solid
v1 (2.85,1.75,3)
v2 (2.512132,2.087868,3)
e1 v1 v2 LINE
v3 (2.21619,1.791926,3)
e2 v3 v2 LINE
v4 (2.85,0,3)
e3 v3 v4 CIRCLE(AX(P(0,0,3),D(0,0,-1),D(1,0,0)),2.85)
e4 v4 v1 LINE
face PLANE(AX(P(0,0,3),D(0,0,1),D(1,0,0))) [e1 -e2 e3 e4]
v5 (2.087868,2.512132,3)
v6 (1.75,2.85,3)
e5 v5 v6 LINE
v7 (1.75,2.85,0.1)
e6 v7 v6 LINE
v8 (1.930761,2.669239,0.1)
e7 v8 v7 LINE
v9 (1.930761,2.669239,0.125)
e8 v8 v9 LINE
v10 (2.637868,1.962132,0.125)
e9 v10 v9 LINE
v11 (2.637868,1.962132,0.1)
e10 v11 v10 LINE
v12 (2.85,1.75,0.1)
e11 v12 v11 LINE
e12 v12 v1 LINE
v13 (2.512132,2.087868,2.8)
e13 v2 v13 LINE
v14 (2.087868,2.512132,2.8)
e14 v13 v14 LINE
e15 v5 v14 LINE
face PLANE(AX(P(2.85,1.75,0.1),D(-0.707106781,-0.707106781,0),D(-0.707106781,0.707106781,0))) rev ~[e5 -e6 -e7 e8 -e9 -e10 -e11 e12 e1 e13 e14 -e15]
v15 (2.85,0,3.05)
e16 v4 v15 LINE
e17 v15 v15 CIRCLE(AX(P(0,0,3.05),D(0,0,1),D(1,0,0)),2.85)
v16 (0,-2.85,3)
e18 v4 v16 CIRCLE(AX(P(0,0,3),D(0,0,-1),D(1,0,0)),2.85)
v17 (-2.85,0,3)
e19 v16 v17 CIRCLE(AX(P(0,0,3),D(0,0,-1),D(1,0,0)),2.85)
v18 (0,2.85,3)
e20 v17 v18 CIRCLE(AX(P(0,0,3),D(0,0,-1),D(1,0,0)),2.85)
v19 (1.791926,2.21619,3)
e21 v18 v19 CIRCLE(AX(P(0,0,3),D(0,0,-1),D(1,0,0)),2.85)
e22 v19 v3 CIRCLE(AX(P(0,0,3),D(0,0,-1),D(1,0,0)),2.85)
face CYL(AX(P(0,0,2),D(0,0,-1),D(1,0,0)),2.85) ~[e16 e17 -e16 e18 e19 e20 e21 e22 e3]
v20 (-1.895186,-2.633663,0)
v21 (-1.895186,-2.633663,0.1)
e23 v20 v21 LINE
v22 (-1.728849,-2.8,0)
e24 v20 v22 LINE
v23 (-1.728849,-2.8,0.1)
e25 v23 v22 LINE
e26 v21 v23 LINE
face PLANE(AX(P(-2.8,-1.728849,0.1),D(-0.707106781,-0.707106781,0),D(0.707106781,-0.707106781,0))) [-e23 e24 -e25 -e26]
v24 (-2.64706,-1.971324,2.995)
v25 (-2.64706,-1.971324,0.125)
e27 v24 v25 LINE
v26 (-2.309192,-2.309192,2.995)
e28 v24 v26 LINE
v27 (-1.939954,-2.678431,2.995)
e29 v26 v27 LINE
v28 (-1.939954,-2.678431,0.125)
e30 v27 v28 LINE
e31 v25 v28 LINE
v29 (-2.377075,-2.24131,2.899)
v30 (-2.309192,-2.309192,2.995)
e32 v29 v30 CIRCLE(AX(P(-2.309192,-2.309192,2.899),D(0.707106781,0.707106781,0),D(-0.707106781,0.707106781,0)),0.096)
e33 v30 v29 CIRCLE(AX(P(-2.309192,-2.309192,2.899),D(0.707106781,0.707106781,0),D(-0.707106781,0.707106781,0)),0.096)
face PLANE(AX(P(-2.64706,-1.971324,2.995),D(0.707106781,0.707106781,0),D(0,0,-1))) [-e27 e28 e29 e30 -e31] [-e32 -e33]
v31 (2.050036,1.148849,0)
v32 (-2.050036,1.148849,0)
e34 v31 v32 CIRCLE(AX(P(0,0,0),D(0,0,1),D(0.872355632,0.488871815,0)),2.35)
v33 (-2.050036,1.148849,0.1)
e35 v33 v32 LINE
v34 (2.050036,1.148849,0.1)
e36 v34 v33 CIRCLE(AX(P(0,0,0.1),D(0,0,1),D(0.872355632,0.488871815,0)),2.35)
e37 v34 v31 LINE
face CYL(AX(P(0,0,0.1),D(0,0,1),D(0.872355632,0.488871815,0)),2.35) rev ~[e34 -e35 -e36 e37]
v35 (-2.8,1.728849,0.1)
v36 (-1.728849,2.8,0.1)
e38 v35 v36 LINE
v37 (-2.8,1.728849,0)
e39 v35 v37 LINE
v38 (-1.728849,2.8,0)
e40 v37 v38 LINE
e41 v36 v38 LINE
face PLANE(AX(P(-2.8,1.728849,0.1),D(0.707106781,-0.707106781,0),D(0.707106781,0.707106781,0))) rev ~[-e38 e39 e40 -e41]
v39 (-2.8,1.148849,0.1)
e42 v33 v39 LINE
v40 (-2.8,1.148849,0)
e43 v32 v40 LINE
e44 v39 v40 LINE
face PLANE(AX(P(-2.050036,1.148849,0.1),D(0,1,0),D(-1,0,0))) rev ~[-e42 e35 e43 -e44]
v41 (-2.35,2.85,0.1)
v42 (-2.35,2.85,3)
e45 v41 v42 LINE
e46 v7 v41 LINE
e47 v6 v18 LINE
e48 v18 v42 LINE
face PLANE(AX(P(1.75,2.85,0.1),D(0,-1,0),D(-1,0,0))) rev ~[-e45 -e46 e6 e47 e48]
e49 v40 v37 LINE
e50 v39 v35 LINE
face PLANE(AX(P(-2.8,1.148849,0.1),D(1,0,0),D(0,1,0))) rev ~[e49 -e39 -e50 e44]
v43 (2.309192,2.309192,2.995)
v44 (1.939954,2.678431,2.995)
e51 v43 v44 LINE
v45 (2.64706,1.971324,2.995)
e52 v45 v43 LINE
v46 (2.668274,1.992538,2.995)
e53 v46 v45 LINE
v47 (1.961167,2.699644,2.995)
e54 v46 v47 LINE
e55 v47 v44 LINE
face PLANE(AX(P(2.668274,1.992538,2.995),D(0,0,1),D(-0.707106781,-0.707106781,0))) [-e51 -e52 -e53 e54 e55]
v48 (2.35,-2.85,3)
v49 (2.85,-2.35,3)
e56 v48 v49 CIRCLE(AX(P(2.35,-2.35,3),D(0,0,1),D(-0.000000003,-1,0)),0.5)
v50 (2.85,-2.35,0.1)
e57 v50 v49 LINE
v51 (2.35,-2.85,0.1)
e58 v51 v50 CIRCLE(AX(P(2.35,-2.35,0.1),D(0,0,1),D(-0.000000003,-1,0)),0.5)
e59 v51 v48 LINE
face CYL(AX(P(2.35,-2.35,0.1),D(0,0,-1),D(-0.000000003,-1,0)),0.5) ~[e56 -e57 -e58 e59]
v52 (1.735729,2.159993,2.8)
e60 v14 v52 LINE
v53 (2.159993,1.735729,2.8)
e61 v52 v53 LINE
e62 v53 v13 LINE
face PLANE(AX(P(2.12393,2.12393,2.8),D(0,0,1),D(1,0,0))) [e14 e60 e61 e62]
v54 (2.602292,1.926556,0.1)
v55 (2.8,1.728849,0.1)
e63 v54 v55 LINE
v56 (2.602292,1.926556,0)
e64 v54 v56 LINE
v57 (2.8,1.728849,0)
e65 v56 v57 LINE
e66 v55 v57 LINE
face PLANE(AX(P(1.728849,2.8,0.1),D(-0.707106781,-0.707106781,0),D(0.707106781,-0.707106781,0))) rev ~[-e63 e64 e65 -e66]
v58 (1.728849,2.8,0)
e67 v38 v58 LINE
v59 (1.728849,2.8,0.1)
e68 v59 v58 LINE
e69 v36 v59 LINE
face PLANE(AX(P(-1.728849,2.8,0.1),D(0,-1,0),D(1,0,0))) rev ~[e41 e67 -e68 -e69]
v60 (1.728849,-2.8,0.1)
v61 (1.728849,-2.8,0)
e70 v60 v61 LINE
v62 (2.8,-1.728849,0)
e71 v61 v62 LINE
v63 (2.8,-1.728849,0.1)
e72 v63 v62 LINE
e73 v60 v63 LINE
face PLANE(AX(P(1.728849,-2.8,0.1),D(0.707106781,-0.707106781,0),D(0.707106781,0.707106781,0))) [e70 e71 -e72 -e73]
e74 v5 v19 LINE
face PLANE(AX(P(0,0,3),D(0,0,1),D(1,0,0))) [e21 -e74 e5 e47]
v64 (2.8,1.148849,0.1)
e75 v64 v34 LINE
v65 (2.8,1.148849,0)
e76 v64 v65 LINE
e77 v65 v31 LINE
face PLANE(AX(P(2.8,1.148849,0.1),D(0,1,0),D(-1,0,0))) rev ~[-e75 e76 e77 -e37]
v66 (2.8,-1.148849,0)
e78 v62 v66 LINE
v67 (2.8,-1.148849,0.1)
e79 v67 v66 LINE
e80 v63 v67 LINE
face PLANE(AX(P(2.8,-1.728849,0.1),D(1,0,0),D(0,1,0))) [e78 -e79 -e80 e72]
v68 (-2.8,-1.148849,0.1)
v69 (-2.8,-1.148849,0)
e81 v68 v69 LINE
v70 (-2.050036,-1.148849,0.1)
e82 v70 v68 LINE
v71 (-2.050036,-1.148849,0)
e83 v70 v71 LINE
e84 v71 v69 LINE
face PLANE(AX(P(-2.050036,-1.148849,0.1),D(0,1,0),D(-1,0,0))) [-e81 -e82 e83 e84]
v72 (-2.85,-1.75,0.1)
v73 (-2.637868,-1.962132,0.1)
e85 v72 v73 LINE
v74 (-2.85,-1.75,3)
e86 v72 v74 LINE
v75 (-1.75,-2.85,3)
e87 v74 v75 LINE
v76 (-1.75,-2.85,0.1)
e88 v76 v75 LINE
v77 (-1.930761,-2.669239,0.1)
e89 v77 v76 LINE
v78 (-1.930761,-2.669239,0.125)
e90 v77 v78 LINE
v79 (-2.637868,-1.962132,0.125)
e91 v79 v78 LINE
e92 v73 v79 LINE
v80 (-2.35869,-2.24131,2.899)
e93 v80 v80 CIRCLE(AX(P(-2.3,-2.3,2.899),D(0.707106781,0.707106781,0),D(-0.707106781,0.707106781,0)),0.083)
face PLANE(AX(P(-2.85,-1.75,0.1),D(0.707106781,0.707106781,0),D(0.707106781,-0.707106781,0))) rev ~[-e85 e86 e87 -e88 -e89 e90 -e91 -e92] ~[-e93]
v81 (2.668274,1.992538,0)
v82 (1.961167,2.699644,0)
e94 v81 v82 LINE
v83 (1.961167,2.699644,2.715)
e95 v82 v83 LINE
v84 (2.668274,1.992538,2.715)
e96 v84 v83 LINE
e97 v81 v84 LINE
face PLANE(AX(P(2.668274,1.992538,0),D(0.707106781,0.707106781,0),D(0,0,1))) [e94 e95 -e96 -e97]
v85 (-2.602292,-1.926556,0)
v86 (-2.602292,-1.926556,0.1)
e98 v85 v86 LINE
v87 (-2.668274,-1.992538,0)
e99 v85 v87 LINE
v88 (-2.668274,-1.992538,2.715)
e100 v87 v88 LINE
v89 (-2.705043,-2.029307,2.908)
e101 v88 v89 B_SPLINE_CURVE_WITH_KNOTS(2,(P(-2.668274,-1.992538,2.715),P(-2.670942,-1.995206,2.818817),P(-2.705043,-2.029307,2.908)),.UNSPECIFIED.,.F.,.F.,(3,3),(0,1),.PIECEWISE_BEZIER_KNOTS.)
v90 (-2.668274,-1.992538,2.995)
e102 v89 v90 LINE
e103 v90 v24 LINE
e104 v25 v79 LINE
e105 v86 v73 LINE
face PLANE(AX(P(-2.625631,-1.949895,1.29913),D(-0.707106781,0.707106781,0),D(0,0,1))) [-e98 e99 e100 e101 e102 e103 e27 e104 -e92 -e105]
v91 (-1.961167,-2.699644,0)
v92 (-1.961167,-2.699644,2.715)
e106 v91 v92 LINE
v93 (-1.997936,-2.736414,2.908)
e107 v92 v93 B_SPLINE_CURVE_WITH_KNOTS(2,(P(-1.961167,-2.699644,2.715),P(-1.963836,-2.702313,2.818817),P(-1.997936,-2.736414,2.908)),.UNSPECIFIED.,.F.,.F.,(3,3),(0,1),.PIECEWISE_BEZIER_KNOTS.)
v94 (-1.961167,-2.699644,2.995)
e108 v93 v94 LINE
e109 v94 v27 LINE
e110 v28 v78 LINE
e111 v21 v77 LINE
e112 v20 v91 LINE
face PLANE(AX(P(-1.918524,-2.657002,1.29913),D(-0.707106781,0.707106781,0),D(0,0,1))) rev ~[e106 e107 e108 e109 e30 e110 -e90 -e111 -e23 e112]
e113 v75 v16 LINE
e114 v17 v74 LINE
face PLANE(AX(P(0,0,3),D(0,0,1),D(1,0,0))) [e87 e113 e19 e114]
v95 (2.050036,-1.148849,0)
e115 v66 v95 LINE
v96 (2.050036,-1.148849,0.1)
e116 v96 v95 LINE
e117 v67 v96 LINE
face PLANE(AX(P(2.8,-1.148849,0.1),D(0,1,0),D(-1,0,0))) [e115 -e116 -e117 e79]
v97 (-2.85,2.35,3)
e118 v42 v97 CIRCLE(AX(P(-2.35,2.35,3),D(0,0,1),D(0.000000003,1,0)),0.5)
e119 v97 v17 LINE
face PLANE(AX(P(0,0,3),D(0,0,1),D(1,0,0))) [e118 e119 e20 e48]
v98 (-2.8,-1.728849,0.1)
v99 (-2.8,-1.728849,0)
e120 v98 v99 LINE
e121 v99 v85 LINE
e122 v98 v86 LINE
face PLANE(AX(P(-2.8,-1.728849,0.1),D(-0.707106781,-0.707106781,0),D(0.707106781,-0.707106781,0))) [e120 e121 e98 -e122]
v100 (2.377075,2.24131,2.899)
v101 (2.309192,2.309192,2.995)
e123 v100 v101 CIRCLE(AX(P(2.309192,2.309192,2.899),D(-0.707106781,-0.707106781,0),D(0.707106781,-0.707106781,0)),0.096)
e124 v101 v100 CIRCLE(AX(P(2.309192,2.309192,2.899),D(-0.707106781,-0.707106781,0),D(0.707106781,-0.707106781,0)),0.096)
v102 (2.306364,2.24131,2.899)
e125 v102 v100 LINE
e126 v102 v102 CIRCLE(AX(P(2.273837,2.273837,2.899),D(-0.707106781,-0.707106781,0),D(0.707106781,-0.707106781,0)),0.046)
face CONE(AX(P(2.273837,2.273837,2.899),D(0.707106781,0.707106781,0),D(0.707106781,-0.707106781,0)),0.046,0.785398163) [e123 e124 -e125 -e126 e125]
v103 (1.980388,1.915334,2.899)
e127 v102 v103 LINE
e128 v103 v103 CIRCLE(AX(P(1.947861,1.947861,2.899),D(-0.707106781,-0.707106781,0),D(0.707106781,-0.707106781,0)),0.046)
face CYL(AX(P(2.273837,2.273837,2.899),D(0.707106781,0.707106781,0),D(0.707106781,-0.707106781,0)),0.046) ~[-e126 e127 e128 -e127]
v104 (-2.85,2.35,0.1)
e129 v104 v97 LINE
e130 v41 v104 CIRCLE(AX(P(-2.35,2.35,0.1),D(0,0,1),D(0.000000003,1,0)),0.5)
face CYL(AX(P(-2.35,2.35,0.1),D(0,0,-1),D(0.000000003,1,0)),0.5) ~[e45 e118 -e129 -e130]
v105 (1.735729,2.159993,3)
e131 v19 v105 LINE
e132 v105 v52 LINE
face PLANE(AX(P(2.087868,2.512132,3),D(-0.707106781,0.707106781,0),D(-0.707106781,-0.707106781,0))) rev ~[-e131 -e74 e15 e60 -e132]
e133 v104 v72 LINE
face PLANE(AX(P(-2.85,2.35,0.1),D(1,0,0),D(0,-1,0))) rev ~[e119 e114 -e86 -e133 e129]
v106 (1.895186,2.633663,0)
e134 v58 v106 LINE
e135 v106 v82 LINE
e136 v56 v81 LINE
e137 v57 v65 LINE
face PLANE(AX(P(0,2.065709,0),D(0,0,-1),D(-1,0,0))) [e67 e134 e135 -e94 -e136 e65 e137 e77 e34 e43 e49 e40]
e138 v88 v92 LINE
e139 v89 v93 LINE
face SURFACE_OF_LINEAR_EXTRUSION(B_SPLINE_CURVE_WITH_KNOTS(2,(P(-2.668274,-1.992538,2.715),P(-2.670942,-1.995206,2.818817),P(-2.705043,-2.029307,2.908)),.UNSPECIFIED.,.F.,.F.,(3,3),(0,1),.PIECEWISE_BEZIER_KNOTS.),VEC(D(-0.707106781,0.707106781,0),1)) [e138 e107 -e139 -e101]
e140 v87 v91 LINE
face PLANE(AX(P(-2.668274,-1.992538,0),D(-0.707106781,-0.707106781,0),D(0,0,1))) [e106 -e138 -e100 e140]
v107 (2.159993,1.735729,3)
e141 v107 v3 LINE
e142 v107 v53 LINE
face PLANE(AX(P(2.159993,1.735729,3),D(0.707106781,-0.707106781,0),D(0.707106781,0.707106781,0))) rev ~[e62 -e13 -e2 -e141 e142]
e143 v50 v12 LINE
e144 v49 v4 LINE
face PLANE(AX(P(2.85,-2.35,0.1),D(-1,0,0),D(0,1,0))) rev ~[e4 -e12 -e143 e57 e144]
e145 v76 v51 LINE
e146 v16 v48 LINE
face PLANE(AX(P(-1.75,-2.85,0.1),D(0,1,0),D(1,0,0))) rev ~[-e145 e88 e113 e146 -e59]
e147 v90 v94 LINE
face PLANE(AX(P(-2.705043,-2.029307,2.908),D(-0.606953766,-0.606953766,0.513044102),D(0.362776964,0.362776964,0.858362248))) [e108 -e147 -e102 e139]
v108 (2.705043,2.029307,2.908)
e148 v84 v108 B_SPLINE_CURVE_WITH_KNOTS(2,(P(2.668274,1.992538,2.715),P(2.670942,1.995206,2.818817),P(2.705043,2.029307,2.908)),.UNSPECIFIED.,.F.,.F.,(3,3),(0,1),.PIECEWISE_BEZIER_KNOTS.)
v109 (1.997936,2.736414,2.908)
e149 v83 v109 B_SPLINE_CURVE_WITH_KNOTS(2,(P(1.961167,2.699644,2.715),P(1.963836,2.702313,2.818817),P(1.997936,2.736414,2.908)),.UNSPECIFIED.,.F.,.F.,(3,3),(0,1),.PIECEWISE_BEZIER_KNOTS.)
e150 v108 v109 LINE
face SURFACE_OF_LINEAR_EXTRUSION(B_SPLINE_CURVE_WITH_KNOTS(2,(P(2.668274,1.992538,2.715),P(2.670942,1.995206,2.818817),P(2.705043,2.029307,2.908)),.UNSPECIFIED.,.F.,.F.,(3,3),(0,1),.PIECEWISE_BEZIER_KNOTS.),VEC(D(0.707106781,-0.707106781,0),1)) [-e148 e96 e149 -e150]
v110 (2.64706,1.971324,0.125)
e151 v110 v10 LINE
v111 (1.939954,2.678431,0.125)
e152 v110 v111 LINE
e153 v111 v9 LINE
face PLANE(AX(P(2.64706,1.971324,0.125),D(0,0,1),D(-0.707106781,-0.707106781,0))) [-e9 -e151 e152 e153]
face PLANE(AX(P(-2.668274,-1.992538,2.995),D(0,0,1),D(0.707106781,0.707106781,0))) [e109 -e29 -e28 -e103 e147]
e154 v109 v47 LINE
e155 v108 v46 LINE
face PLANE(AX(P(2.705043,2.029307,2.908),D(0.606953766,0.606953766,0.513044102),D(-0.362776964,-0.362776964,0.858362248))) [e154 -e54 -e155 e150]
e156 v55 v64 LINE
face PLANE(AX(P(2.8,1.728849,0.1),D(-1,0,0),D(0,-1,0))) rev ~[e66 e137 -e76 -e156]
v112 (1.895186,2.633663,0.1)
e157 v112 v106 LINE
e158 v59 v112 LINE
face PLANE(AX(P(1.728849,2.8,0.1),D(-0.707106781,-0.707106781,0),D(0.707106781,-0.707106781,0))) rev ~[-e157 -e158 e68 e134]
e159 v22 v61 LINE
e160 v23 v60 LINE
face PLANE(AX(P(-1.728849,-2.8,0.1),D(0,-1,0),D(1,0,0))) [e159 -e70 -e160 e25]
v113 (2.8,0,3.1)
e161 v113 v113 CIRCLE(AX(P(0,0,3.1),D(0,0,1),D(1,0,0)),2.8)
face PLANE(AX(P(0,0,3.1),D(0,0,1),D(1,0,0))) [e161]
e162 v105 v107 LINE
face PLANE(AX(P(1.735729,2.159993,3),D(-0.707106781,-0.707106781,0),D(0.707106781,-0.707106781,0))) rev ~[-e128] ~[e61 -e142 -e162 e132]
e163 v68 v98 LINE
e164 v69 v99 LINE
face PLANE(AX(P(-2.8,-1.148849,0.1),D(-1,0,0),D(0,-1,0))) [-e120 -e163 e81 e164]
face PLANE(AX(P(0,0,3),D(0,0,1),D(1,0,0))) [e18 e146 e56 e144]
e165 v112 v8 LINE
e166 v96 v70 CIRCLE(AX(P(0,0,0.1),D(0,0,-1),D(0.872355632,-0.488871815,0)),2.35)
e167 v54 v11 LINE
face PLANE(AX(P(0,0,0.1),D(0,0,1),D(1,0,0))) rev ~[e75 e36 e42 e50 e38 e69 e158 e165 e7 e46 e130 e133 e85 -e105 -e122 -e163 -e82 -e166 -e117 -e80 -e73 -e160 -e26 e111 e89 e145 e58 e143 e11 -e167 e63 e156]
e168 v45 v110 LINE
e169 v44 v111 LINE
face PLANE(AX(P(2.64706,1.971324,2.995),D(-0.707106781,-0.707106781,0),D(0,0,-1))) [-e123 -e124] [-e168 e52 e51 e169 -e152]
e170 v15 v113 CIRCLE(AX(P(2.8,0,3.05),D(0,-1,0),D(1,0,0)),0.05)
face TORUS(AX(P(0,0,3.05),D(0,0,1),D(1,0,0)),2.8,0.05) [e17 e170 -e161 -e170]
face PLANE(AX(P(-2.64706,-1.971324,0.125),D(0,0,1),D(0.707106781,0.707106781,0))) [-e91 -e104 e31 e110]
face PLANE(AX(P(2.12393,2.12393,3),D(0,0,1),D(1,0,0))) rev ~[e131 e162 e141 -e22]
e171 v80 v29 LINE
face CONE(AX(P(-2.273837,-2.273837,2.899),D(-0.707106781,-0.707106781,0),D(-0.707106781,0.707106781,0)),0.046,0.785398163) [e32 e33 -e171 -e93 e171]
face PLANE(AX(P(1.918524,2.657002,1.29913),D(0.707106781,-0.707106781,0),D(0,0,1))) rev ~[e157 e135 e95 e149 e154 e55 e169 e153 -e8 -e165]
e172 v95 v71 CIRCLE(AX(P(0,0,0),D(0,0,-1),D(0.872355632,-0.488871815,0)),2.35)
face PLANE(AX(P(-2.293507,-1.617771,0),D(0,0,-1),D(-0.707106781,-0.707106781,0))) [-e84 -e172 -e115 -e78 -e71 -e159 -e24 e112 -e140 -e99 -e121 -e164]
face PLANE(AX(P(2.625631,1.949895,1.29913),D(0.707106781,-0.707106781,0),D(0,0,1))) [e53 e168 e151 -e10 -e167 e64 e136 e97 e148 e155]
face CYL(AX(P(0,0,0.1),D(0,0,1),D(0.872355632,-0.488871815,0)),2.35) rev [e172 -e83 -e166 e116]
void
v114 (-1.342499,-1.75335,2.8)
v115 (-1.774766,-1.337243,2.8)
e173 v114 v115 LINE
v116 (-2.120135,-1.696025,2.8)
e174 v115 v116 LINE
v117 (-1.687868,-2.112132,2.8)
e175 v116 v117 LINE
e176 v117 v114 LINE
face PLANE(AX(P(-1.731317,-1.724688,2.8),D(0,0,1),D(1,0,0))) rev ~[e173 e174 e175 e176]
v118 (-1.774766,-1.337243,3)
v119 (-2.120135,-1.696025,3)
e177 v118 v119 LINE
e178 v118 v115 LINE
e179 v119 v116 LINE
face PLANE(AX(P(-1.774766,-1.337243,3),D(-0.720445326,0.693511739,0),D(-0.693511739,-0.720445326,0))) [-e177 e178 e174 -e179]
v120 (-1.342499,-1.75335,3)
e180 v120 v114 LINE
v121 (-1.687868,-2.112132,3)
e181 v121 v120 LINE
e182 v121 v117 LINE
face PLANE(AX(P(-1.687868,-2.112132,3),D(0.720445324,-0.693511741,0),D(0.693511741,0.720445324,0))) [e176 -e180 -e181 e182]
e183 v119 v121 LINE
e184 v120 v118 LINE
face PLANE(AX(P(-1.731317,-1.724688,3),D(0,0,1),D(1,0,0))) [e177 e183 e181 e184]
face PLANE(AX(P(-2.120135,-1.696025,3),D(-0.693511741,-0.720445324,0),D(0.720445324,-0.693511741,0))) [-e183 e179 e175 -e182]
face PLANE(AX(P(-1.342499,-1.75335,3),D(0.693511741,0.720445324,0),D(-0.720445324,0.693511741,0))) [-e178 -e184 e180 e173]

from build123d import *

# Parameters (mm, degrees)
EXTRUDE_START                      = 0.1
EXTRUDE_726_DEPTH                  = 2.9
EXTRUDE_1021_DEPTH                 = 0.1
EXTRUDE_1021_DEPTH_BACK            = 1
SKETCH_2_R                         = 2.85
FILLET_1_R                         = 0.05
EXTRUDE_START_2                    = -0.3
EXTRUDE_1608_DEPTH                 = 1
CUT_EXTRUDE_8_DEPTH                = 0.2
EXTRUDE_START_3                    = 0.05
SKETCH_9_R                         = 0.046
EXTRUDE_1_DEPTH                    = 0.461
EXTRUDE_1_OTHER_WAY_DEPTH          = 0.05
EXTRUDE_1_OTHER_WAY_DRAFT          = 45
PATTERN_CIRCULAR_3_COUNT           = 2
PATTERN_START                      = 0.05
PATTERN_CIRCULAR_3_COPY_1_SKETCH_R = 0.046
PATTERN_CIRCULAR_3_COPY_1_DEPTH    = 0.05
PATTERN_CIRCULAR_3_COPY_1_DRAFT    = 45
PATTERN_CIRCULAR_3_COPY_2_SKETCH_R = 0.046
PATTERN_CIRCULAR_3_COPY_2_DEPTH    = 0.05
PATTERN_CIRCULAR_3_COPY_2_DRAFT    = 45
EXTRUDE_4261_DEPTH                 = 0.1


with BuildPart() as part:
    # Эскиз1 → Extrude 726 (new body)
    with BuildSketch(Plane.XY.offset(EXTRUDE_START)):
        with BuildLine():
            Line((-2.85, -1.75), (-1.75, -2.85))
            Line((-1.75, -2.85), (2.35, -2.85))
            ThreePointArc((2.35, -2.85), (2.703553391, -2.703553391), (2.85, -2.35))
            Line((2.85, -2.35), (2.85, 1.75))
            Line((2.85, 1.75), (1.75, 2.85))
            Line((1.75, 2.85), (-2.35, 2.85))
            ThreePointArc((-2.35, 2.85), (-2.703553391, 2.703553391), (-2.85, 2.35))
            Line((-2.85, 2.35), (-2.85, -1.75))
        make_face()
    extrude(amount=EXTRUDE_726_DEPTH)

    # Эскиз2 → Extrude 1021 (add, two sides: drawn at the far end of the back side and taken through both)
    with BuildSketch(Plane.XY.offset(3).offset(-EXTRUDE_1021_DEPTH_BACK)):
        Circle(SKETCH_2_R)
    extrude(amount=EXTRUDE_1021_DEPTH + EXTRUDE_1021_DEPTH_BACK)

    # Скругление1
    fillet_1_edges = [part.edges().sort_by_distance(p)[0] for p in [
        (-2.85, 0, 3.1),
    ]]
    fillet(fillet_1_edges, radius=FILLET_1_R)

    # Эскиз6 → Extrude 1608 (add)
    with BuildSketch(Plane(origin=(0.55, -0.55, 0), x_dir=(0, 0, 1), z_dir=(0.7071067811865498, -0.7071067811865452, 0)).offset(EXTRUDE_START_2)):
        with BuildLine():
            Line((2.908, -3.347691193), (2.995, -3.295691193))
            Line((2.995, -3.295691193), (2.995, -3.265691193))
            Line((2.995, -3.265691193), (0.125, -3.265691193))
            Line((0.125, -3.265691193), (0.125, -2.765691193))
            Line((0.125, -2.765691193), (0, -2.765691193))
            Line((0, -2.765691193), (0, -3.295691193))
            Line((0, -3.295691193), (2.715, -3.295691193))
            add(Edge.make_bspline(
                [(2.715, -3.295691193), (2.818817166, -3.299465526), (2.908, -3.347691193)],
                knots=[0, 0, 0, 1, 1, 1], degree=2))
        make_face()
    extrude_1608 = extrude(amount=-EXTRUDE_1608_DEPTH)

    # Эскиз8 → Вытянуть8 (cut)
    with BuildSketch(Plane.XY.offset(3)):
        Polygon((2.512132034, 2.087867966), (2.087867966, 2.512132034), (1.735728789, 2.159992857), (2.159992857, 1.735728789), align=None)
        Polygon((-1.687867966, -2.112132034), (-1.342499119, -1.753350263), (-1.774766314, -1.337243218), (-2.12013516, -1.69602499), align=None)
    extrude(amount=-CUT_EXTRUDE_8_DEPTH, mode=Mode.SUBTRACT)

    # Эскиз9 → Бобышка-Вытянуть1 (add)
    with BuildSketch(Plane(origin=(2.309192388, 2.309192388, 0), x_dir=(0, 0, 1), z_dir=(-0.7071067811865452, -0.7071067811865498, 0)).offset(EXTRUDE_START_3)):
        with Locations(Location((2.899, 0, 0), (0, 0, 270))):
            Circle(SKETCH_9_R)
    extrude_1 = extrude(amount=EXTRUDE_1_DEPTH)


with BuildPart() as extrude_1_other_way_tool:
    # Эскиз9 → Бобышка-Вытянуть1 other way (with draft: the straight prism first)
    with BuildSketch(Plane(origin=(2.309192388, 2.309192388, 0), x_dir=(0, 0, 1), z_dir=(-0.7071067811865452, -0.7071067811865498, 0)).offset(EXTRUDE_START_3)):
        with Locations(Location((2.899, 0, 0), (0, 0, 270))):
            Circle(SKETCH_9_R)
    extrude(amount=-EXTRUDE_1_OTHER_WAY_DEPTH)
    # Бобышка-Вытянуть1 other way: the draft: its side faces are tilted about the plane it starts from
    extrude_1_other_way_sides = [extrude_1_other_way_tool.faces().sort_by_distance(p)[0] for p in [
        (2.258987807, 2.324041631, 2.899),
    ]]
    draft(extrude_1_other_way_sides, Plane(origin=(2.309192388, 2.309192388, 0), x_dir=(0, 0, 1), z_dir=(-0.7071067811865452, -0.7071067811865498, 0)).offset(EXTRUDE_START_3), EXTRUDE_1_OTHER_WAY_DRAFT)


with BuildPart() as part_1:
    add(part.part)

    # Бобышка-Вытянуть1 other way: add extrude_1_other_way_tool
    add(extrude_1_other_way_tool.part)

    # Круговой массив3: Extrude 1608, Бобышка-Вытянуть1 ×2 about axis
    pattern_circular_3_axis = Axis((0, 0, 3.1), (0, 0, -1))
    add([extrude_1608.rotate(pattern_circular_3_axis, i * 360 / PATTERN_CIRCULAR_3_COUNT) for i in range(1, PATTERN_CIRCULAR_3_COUNT)])
    add([extrude_1.rotate(pattern_circular_3_axis, i * 360 / PATTERN_CIRCULAR_3_COUNT) for i in range(1, PATTERN_CIRCULAR_3_COUNT)])


with BuildPart() as pattern_circular_3_copy_1_tool:
    # Круговой массив3 copy 1 sketch → Круговой массив3 copy 1 (with draft: the straight prism first)
    with BuildSketch(Plane(origin=(-2.309192388, -2.309192388, 0), x_dir=(0, 0, 1), z_dir=(0.7071067811865451, 0.7071067811865499, 0)).offset(PATTERN_START)):
        with Locations(Location((2.899, 0, 0), (0, 0, 270))):
            Circle(PATTERN_CIRCULAR_3_COPY_1_SKETCH_R)
    extrude(amount=-PATTERN_CIRCULAR_3_COPY_1_DEPTH)
    # Круговой массив3 copy 1: the draft: its side faces are tilted about the plane it starts from
    pattern_circular_3_copy_1_sides = [pattern_circular_3_copy_1_tool.faces().sort_by_distance(p)[0] for p in [
        (-2.258987807, -2.324041631, 2.899),
    ]]
    draft(pattern_circular_3_copy_1_sides, Plane(origin=(-2.309192388, -2.309192388, 0), x_dir=(0, 0, 1), z_dir=(0.7071067811865451, 0.7071067811865499, 0)).offset(PATTERN_START), PATTERN_CIRCULAR_3_COPY_1_DRAFT)


with BuildPart() as part_2:
    add(part_1.part)

    # Круговой массив3 copy 1: add pattern_circular_3_copy_1_tool
    add(pattern_circular_3_copy_1_tool.part)


with BuildPart() as pattern_circular_3_copy_2_tool:
    # Круговой массив3 copy 2 sketch → Круговой массив3 copy 2 (with draft: the straight prism first)
    with BuildSketch(Plane(origin=(-2.309192388, -2.309192388, 0), x_dir=(0, 0, 1), z_dir=(0.7071067811865451, 0.7071067811865499, 0)).offset(PATTERN_START)):
        with Locations(Location((2.899, 0, 0), (0, 0, 270))):
            Circle(PATTERN_CIRCULAR_3_COPY_2_SKETCH_R)
    extrude(amount=-PATTERN_CIRCULAR_3_COPY_2_DEPTH)
    # Круговой массив3 copy 2: the draft: its side faces are tilted about the plane it starts from
    pattern_circular_3_copy_2_sides = [pattern_circular_3_copy_2_tool.faces().sort_by_distance(p)[0] for p in [
        (-2.258987807, -2.324041631, 2.899),
    ]]
    draft(pattern_circular_3_copy_2_sides, Plane(origin=(-2.309192388, -2.309192388, 0), x_dir=(0, 0, 1), z_dir=(0.7071067811865451, 0.7071067811865499, 0)).offset(PATTERN_START), PATTERN_CIRCULAR_3_COPY_2_DRAFT)


with BuildPart() as part_3:
    add(part_2.part)

    # Круговой массив3 copy 2: add pattern_circular_3_copy_2_tool
    add(pattern_circular_3_copy_2_tool.part)

    # Эскиз13 → Extrude 4261 (add)
    with BuildSketch(Plane(origin=(0, 0, 0.1), x_dir=(-1, 0, 0), z_dir=(0, 0, -1))):
        with BuildLine():
            Line((2.050035735, 1.148848765), (2.8, 1.148848765))
            Line((2.8, 1.148848765), (2.8, 1.728848765))
            Line((2.8, 1.728848765), (1.728848765, 2.8))
            Line((1.728848765, 2.8), (-1.728848765, 2.8))
            Line((-1.728848765, 2.8), (-2.8, 1.728848765))
            Line((-2.8, 1.728848765), (-2.8, 1.148848765))
            Line((-2.8, 1.148848765), (-2.050035735, 1.148848765))
            ThreePointArc((-2.050035735, 1.148848765), (0, 2.35), (2.050035735, 1.148848765))
        make_face()
        with BuildLine():
            Line((-2.8, -1.148848765), (-2.050035735, -1.148848765))
            ThreePointArc((-2.050035735, -1.148848765), (0, -2.35), (2.050035735, -1.148848765))
            Line((2.050035735, -1.148848765), (2.8, -1.148848765))
            Line((2.8, -1.148848765), (2.8, -1.728848765))
            Line((2.8, -1.728848765), (1.728848765, -2.8))
            Line((1.728848765, -2.8), (-1.728848765, -2.8))
            Line((-1.728848765, -2.8), (-2.8, -1.728848765))
            Line((-2.8, -1.728848765), (-2.8, -1.148848765))
        make_face()
    extrude(amount=EXTRUDE_4261_DEPTH)


solid = part_3.part
